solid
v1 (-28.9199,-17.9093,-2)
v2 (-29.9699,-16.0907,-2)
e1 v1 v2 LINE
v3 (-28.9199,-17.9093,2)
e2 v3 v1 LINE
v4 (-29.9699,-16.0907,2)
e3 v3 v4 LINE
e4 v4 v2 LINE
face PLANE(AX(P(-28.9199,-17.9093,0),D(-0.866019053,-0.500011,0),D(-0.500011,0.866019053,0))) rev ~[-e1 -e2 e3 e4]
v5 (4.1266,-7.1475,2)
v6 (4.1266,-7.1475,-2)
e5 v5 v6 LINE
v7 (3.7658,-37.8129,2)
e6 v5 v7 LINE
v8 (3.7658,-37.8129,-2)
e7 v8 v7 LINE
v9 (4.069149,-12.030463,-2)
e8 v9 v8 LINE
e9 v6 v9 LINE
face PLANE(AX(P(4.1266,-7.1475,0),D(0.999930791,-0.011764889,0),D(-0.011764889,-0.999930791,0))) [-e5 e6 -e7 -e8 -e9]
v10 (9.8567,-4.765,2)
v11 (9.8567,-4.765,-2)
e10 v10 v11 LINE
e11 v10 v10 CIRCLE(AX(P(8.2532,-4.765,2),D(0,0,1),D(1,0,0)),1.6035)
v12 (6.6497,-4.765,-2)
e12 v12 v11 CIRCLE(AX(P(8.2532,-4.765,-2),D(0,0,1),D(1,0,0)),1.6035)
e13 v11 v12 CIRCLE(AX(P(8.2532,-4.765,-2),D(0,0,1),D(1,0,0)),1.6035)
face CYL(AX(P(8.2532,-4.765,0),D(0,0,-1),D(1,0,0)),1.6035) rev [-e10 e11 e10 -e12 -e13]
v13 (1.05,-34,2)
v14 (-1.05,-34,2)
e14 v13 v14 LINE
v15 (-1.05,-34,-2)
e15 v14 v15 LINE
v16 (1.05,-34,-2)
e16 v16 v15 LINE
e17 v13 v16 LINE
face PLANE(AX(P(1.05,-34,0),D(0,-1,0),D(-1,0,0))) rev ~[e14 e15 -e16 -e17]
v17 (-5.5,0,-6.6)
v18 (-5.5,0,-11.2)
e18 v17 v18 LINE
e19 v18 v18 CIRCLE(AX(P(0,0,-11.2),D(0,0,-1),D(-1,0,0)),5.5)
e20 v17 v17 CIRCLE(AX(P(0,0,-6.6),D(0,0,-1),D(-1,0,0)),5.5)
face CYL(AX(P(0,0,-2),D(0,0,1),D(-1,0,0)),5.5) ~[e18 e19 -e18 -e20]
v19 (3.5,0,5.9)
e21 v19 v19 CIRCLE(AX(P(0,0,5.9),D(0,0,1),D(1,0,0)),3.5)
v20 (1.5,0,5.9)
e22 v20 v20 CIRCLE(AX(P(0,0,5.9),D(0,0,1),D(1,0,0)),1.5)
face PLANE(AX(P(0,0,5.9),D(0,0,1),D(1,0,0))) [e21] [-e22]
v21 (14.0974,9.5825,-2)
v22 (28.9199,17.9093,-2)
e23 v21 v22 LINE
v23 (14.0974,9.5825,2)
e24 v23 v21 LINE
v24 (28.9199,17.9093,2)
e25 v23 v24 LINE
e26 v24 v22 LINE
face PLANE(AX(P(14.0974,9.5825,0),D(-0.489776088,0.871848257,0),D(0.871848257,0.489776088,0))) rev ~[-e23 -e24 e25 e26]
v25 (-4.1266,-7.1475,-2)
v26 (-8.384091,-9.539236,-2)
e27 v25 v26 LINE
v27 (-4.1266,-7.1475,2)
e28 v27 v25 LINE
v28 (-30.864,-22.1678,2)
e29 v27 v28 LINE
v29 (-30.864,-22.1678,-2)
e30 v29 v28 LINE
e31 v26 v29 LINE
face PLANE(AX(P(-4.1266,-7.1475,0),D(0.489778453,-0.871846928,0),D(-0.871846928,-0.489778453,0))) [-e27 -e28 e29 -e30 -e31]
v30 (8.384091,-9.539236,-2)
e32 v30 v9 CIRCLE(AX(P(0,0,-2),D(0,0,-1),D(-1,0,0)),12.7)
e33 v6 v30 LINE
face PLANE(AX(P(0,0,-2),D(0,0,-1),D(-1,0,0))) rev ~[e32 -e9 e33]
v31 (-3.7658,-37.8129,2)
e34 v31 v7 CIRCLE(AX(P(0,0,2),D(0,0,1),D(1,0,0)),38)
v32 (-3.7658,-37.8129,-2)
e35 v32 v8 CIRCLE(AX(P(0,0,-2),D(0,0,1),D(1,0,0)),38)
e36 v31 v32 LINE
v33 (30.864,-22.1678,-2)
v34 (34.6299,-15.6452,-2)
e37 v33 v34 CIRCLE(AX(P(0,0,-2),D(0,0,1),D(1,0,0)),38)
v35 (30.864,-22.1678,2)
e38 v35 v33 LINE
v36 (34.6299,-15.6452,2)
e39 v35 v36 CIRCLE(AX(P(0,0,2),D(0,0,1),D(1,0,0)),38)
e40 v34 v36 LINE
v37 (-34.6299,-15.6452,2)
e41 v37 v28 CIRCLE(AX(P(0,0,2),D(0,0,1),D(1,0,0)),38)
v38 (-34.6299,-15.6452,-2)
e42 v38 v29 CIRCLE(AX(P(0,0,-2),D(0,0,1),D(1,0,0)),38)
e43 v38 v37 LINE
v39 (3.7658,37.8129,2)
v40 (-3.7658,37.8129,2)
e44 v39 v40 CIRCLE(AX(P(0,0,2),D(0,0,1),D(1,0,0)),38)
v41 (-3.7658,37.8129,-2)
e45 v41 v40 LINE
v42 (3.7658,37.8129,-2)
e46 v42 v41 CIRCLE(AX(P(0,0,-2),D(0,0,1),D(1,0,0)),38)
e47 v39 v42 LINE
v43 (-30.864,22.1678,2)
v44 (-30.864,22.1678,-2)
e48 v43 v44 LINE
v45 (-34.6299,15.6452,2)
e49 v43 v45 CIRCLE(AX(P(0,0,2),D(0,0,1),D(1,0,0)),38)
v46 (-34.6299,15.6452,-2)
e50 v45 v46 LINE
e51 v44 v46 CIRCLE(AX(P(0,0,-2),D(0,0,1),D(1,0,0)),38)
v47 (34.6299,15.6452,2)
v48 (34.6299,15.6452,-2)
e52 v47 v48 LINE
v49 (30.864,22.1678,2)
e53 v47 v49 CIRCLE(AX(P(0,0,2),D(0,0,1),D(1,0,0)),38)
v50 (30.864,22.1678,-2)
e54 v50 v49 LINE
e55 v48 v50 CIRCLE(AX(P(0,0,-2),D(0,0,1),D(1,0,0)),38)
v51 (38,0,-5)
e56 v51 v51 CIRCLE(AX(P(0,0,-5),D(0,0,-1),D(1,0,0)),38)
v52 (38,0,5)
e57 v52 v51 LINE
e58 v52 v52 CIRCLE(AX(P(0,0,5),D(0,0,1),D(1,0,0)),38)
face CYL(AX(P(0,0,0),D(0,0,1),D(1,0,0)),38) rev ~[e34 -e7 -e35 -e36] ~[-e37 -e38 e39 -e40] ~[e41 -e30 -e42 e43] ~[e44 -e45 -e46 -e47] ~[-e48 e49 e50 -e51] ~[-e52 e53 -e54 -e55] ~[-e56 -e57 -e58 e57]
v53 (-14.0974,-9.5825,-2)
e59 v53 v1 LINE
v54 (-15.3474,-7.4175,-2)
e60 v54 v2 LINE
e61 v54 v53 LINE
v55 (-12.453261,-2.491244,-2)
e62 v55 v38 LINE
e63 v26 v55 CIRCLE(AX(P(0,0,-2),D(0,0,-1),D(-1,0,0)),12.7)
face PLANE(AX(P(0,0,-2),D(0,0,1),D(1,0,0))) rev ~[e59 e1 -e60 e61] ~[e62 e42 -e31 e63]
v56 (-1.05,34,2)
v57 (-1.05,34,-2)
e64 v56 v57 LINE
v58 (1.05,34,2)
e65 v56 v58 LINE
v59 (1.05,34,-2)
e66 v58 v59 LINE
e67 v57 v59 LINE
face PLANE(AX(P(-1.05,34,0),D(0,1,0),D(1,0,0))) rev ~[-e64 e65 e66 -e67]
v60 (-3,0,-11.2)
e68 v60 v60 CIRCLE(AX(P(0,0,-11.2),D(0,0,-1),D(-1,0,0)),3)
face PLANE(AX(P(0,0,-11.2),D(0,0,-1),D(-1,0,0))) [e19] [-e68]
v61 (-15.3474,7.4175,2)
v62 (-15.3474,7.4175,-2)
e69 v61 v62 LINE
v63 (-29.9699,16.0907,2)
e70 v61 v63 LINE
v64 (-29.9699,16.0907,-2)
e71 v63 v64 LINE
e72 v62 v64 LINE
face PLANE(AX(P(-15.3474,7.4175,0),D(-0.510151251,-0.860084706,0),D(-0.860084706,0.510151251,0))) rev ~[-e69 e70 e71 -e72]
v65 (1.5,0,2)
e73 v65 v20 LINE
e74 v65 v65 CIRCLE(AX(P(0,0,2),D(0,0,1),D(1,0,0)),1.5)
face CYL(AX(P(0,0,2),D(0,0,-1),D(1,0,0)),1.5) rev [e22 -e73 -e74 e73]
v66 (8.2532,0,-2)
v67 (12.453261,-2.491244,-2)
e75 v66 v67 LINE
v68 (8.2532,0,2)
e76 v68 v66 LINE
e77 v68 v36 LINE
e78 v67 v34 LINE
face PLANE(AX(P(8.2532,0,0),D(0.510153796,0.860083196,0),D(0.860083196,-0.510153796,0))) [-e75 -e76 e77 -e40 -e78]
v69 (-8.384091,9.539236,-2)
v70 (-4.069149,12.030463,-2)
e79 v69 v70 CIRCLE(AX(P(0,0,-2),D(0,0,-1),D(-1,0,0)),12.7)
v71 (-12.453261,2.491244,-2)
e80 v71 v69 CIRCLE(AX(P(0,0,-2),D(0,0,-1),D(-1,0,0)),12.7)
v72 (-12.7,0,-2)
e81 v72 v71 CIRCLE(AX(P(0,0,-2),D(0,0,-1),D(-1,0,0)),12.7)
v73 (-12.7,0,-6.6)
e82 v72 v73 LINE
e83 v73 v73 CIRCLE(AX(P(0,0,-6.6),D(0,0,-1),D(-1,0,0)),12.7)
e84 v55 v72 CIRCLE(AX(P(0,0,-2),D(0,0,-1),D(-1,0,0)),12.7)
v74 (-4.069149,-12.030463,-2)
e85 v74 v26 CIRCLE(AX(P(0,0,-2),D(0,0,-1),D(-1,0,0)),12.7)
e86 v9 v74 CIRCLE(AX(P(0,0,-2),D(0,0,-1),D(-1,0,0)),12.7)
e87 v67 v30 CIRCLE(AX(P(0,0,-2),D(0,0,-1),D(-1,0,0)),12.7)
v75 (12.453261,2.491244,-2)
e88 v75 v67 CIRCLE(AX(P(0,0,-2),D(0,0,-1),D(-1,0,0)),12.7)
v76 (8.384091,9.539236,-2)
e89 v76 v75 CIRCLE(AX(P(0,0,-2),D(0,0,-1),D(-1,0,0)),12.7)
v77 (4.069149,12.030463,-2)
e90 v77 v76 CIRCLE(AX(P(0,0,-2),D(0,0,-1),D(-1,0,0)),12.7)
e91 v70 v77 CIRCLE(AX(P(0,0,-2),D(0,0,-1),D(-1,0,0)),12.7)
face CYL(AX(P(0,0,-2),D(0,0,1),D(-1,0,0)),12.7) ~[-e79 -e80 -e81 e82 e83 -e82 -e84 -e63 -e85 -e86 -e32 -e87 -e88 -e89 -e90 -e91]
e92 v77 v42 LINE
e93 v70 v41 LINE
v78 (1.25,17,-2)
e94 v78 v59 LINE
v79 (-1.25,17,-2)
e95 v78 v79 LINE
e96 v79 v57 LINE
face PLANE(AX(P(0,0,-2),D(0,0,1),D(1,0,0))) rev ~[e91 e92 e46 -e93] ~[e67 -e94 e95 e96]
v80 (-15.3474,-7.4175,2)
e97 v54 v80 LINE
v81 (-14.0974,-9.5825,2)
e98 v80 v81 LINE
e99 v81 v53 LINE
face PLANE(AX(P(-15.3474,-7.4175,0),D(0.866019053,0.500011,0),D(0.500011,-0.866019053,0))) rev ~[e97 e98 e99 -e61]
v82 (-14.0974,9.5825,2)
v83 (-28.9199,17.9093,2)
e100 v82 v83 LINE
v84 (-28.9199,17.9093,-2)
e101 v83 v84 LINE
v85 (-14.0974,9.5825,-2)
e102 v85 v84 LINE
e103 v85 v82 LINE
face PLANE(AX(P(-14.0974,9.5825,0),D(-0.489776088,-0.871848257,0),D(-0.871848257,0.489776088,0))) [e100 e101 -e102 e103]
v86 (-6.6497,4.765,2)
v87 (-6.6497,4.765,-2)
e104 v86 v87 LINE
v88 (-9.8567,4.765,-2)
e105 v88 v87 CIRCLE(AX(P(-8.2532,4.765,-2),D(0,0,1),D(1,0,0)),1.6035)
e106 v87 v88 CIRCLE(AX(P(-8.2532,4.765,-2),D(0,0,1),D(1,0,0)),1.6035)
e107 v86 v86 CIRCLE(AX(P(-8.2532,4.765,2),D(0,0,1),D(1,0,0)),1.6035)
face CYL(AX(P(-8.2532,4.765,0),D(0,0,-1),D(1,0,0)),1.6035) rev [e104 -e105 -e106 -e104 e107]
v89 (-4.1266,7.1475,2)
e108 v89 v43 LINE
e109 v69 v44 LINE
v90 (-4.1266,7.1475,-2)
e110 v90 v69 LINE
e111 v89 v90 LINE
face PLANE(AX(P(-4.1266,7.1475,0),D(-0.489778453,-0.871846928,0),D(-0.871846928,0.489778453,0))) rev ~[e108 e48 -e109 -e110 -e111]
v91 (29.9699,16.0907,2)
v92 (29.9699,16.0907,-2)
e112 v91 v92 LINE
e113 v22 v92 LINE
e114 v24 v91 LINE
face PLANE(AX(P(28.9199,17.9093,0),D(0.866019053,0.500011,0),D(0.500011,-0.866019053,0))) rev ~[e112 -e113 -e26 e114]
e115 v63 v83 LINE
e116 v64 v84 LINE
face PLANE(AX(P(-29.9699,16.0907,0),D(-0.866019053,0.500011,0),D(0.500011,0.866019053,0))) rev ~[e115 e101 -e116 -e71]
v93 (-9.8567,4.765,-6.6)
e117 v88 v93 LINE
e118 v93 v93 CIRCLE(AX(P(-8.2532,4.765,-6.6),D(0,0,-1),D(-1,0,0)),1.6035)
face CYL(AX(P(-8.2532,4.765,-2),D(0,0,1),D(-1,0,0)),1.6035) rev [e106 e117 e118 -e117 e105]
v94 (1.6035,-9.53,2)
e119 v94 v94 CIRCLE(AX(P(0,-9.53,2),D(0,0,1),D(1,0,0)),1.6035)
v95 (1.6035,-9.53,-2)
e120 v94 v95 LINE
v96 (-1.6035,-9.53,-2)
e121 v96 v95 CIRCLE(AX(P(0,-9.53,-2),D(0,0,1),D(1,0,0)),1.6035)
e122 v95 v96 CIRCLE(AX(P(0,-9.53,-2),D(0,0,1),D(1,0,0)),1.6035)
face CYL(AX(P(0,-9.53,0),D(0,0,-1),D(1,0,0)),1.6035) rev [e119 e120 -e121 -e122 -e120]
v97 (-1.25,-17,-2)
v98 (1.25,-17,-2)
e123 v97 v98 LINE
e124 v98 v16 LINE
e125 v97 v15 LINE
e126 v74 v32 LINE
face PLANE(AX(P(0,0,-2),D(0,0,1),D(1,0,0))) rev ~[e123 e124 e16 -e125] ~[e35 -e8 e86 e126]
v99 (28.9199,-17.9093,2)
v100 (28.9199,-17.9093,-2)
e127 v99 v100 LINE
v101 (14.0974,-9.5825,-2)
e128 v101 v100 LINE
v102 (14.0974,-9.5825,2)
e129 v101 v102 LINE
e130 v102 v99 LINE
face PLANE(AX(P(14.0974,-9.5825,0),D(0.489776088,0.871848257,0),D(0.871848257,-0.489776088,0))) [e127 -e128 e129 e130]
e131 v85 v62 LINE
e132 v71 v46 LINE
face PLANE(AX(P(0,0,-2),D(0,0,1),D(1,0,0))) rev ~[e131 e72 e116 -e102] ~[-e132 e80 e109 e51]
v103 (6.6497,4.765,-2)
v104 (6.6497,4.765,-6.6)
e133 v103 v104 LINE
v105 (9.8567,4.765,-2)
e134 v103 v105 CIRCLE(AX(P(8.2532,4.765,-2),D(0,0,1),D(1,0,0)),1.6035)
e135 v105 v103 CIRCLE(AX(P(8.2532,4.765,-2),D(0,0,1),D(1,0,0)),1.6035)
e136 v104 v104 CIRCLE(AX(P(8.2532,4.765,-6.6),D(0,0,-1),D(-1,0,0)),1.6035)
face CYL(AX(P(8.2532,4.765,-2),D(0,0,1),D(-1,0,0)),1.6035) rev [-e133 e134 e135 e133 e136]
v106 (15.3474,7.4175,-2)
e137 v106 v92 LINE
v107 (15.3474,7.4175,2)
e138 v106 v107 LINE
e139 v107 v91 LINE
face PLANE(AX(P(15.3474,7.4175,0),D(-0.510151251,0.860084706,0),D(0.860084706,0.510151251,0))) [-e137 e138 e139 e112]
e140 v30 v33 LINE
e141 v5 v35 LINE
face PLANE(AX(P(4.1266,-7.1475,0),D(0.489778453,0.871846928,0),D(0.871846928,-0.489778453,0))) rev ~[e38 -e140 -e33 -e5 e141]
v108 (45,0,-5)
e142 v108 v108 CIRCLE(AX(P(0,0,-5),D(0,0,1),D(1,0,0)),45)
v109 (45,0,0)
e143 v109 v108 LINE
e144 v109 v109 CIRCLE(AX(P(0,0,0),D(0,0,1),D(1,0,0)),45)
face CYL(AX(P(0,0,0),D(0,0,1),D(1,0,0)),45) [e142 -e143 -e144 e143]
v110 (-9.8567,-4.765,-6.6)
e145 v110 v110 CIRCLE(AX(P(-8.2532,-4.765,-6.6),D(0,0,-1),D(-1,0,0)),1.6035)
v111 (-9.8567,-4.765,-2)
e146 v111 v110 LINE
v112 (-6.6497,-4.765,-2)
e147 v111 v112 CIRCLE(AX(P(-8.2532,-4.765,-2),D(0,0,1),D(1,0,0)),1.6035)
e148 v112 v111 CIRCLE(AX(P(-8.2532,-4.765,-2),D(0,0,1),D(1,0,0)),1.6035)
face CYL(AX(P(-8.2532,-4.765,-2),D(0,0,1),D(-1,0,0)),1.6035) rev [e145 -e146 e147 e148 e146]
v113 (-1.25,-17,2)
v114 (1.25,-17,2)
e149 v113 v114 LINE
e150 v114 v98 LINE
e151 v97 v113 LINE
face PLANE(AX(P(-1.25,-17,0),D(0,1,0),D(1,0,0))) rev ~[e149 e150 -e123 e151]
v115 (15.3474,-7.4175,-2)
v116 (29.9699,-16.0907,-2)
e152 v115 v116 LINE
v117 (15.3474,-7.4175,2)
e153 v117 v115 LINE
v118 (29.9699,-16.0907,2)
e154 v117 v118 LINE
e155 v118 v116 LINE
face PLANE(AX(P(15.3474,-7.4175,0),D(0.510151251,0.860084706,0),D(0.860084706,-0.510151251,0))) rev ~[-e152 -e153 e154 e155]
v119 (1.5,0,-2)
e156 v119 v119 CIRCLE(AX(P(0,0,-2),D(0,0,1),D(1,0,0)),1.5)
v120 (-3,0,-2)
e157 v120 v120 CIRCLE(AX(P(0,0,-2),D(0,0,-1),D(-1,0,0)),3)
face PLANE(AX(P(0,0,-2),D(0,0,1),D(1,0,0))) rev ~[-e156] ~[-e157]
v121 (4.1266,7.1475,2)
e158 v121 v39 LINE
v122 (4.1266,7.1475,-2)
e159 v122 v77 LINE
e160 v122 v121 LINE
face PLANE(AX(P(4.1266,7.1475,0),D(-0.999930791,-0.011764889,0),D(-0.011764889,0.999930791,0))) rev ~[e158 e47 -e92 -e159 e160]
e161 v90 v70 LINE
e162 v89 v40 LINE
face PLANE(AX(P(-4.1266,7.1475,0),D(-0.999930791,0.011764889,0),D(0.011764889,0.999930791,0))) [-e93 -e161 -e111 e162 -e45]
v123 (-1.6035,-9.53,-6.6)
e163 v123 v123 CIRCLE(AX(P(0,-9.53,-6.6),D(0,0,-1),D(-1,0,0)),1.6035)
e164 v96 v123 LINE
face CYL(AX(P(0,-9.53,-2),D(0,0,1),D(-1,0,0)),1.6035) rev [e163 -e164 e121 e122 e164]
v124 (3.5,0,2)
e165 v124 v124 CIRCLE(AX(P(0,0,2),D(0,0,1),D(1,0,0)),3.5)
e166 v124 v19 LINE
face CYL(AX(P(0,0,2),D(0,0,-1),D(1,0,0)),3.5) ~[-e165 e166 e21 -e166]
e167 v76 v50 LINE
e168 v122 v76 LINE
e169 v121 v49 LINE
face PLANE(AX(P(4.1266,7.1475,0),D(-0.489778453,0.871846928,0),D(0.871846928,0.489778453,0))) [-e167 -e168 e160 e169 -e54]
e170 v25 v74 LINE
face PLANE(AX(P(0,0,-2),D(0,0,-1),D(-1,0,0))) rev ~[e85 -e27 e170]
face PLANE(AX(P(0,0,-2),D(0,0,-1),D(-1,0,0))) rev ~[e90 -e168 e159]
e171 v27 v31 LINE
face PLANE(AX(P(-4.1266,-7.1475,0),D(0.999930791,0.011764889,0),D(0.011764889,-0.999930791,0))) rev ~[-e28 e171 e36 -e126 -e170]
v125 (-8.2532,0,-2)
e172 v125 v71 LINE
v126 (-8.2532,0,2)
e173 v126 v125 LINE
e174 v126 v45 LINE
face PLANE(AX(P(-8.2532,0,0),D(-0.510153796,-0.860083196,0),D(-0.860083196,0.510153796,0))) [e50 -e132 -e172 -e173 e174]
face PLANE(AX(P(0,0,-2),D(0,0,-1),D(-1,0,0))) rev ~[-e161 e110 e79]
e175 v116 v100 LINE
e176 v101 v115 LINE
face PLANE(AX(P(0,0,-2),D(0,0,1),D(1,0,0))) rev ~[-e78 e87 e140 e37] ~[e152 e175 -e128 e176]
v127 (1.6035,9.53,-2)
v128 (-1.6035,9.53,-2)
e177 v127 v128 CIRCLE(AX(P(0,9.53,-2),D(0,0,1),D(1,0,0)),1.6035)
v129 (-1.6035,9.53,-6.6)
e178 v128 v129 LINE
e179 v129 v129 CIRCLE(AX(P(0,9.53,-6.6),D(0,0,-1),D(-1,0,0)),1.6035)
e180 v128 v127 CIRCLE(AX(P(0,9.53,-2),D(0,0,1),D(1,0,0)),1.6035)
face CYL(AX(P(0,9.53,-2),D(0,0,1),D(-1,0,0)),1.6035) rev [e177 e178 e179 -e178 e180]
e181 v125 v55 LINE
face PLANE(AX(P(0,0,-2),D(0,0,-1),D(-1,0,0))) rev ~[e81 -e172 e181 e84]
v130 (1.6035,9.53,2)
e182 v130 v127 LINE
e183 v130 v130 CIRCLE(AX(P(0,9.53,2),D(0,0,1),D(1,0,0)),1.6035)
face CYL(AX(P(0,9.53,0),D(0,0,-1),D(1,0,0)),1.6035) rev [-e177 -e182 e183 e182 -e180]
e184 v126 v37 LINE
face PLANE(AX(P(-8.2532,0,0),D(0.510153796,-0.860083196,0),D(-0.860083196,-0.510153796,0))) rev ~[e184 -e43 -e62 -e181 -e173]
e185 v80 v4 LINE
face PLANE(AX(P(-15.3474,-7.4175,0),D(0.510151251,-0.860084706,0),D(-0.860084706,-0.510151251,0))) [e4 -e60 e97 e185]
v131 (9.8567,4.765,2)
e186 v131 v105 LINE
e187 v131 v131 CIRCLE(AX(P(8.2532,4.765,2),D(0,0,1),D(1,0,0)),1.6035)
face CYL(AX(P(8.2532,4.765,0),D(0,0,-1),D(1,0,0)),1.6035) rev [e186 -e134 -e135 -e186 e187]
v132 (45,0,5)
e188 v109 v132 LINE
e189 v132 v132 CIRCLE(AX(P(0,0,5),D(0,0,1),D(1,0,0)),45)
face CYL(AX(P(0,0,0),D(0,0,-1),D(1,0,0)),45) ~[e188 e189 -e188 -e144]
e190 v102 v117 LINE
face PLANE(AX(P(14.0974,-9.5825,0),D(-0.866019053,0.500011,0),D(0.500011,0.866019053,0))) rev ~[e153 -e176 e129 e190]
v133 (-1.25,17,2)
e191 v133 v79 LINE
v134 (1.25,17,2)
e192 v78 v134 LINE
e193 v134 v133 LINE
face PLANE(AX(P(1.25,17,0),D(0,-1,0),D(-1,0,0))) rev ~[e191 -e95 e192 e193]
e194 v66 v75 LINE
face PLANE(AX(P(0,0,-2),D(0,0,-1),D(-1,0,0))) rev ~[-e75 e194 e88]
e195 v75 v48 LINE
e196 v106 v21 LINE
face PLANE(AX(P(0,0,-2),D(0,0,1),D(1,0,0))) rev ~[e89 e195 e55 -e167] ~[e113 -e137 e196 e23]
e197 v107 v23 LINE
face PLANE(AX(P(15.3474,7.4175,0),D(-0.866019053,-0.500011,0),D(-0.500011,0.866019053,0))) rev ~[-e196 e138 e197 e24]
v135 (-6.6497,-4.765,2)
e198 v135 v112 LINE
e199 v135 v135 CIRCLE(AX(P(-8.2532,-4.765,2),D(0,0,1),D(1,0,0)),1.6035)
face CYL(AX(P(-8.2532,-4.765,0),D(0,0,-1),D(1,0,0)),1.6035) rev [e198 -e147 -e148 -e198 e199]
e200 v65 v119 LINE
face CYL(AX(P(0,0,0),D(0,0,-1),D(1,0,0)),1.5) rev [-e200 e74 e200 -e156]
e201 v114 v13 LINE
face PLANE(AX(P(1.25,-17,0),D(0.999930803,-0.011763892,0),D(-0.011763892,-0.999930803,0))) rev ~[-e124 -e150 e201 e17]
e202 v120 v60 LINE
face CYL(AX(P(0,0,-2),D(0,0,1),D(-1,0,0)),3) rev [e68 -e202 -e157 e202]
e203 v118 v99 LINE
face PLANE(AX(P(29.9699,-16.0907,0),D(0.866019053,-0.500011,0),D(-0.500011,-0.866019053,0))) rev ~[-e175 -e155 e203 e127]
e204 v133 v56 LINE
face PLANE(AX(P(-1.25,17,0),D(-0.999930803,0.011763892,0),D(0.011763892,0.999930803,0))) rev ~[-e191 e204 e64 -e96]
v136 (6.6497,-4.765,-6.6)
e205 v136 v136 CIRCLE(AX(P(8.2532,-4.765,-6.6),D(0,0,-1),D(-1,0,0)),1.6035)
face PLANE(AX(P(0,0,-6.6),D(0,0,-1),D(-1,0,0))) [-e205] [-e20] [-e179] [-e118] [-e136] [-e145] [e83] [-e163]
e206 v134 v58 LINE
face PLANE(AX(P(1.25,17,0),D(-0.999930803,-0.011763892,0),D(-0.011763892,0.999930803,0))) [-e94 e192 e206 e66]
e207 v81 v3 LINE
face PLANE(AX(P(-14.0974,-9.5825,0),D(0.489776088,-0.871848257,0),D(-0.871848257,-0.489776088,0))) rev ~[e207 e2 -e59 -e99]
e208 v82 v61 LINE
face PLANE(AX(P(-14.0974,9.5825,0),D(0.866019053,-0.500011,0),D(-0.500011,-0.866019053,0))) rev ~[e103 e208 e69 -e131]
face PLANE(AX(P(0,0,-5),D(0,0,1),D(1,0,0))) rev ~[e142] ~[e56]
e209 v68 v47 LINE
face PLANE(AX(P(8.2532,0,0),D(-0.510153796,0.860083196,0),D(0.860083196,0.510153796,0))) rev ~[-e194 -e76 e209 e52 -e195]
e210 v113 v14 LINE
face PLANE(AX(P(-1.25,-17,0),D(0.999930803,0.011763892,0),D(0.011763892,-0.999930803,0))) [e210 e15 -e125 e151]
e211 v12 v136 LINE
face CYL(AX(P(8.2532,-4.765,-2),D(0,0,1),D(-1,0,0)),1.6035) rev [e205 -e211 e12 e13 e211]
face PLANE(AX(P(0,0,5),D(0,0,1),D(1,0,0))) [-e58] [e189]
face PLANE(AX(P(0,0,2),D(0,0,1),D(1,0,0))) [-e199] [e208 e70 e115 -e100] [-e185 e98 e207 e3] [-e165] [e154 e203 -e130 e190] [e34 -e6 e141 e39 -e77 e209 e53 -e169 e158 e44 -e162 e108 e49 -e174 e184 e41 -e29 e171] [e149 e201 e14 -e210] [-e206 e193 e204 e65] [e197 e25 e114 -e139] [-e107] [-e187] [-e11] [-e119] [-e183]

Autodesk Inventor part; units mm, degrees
ref_plane "YZ Plane" through (0, 0, 0) normal (1, 0, 0) x (0, 1, 0)
ref_plane "XZ Plane" through (0, 0, 0) normal (0, 1, 0) x (-1, 0, 0)
ref_plane "XY Plane" through (0, 0, 0) normal (0, 0, 1) x (1, 0, 0)
sketch "Sketch1" plane through (0, 0, 0) normal (0, 0, 1) x (1, 0, 0)
  circle A0 centre (0, 0) radius 45
  circle A1 centre (0, 0) radius 38
  line L0 (0, 0) -> (0, -38) construction
  line L1 (-1.25, -17) -> (1.25, -17)
  line L2 (1.25, -17) -> (1.05, -34)
  line L3 (1.05, -34) -> (-1.05, -34)
  line L4 (-1.25, -17) -> (-1.05, -34)
  circle A2 centre (0, 0) radius 1.5
  circle A3 centre (0, -9.53) radius 1.6035
  circle A4 centre (8.2532, -4.765) radius 1.6035
  circle A5 centre (8.2532, 4.765) radius 1.6035
  circle A6 centre (0, 9.53) radius 1.6035
  circle A7 centre (-8.2532, 4.765) radius 1.6035
  circle A8 centre (-8.2532, -4.765) radius 1.6035
  line L5 (0, -9.53) -> (8.2532, -4.765) construction
  line L6 (4.1266, -7.1475) -> (3.7658, -37.8129)
  line L7 (0, -9.53) -> (-8.2532, -4.765) construction
  line L8 (-4.1266, -7.1475) -> (-3.7658, -37.8129)
  line L9 (14.0974, -9.5825) -> (15.3474, -7.4175)
  line L10 (15.3474, -7.4175) -> (29.9699, -16.0907)
  line L11 (29.9699, -16.0907) -> (28.9199, -17.9093)
  line L12 (14.0974, -9.5825) -> (28.9199, -17.9093)
  line L13 (8.2532, 0) -> (34.6299, -15.6452)
  line L14 (4.1266, -7.1475) -> (30.864, -22.1678)
  line L15 (15.3474, 7.4175) -> (14.0974, 9.5825)
  line L16 (14.0974, 9.5825) -> (28.9199, 17.9093)
  line L17 (28.9199, 17.9093) -> (29.9699, 16.0907)
  line L18 (15.3474, 7.4175) -> (29.9699, 16.0907)
  line L19 (4.1266, 7.1475) -> (30.864, 22.1678)
  line L20 (8.2532, 0) -> (34.6299, 15.6452)
  line L21 (1.25, 17) -> (-1.25, 17)
  line L22 (-1.25, 17) -> (-1.05, 34)
  line L23 (-1.05, 34) -> (1.05, 34)
  line L24 (1.25, 17) -> (1.05, 34)
  line L25 (-4.1266, 7.1475) -> (-3.7658, 37.8129)
  line L26 (4.1266, 7.1475) -> (3.7658, 37.8129)
  line L27 (-14.0974, 9.5825) -> (-15.3474, 7.4175)
  line L28 (-15.3474, 7.4175) -> (-29.9699, 16.0907)
  line L29 (-29.9699, 16.0907) -> (-28.9199, 17.9093)
  line L30 (-14.0974, 9.5825) -> (-28.9199, 17.9093)
  line L31 (-8.2532, 0) -> (-34.6299, 15.6452)
  line L32 (-4.1266, 7.1475) -> (-30.864, 22.1678)
  line L33 (-15.3474, -7.4175) -> (-14.0974, -9.5825)
  line L34 (-14.0974, -9.5825) -> (-28.9199, -17.9093)
  line L35 (-28.9199, -17.9093) -> (-29.9699, -16.0907)
  line L36 (-15.3474, -7.4175) -> (-29.9699, -16.0907)
  line L37 (-4.1266, -7.1475) -> (-30.864, -22.1678)
  line L38 (-8.2532, 0) -> (-34.6299, -15.6452)
  line L39 (3.7658, -37.8129) -> (4.1266, -7.1475)
  line L40 (30.864, -22.1678) -> (4.1266, -7.1475)
  arc A9 (-30.864, -22.1678) -> (-3.7658, -37.8129) centre (0, 0) ccw
  arc A10 (3.7658, -37.8129) -> (30.864, -22.1678) centre (0, 0) ccw
  line L41 (-30.864, -22.1678) -> (-4.1266, -7.1475)
  line L42 (-4.1266, -7.1475) -> (-3.7658, -37.8129)
  line L43 (-34.6299, -15.6452) -> (-8.2532, 0)
  line L44 (-34.6299, 15.6452) -> (-8.2532, 0)
  line L45 (-4.1266, 7.1475) -> (-30.864, 22.1678)
  line L46 (-4.1266, 7.1475) -> (-3.7658, 37.8129)
  line L47 (4.1266, 7.1475) -> (3.7658, 37.8129)
  line L48 (4.1266, 7.1475) -> (30.864, 22.1678)
  line L49 (34.6299, 15.6452) -> (8.2532, 0)
  line L50 (8.2532, 0) -> (34.6299, -15.6452)
  arc A11 (-34.6299, 15.6452) -> (-34.6299, -15.6452) centre (0, 0) ccw
  arc A12 (-3.7658, 37.8129) -> (-30.864, 22.1678) centre (0, 0) ccw
  arc A13 (30.864, 22.1678) -> (3.7658, 37.8129) centre (0, 0) ccw
  arc A14 (34.6299, -15.6452) -> (34.6299, 15.6452) centre (0, 0) ccw
  arc A15 (-3.7658, 37.8129) -> (-30.864, 22.1678) centre (0, 0) ccw
  arc A16 (-3.7658, 37.8129) -> (-30.864, 22.1678) centre (0, 0) ccw
  line L51 (-30.864, 22.1678) -> (-4.1266, 7.1475)
  line L52 (-4.1266, 7.1475) -> (-3.7658, 37.8129)
  point P0 (32.909, -19)
  point P1 (8.2532, -4.765)
  point P2 (32.909, 19)
  point P3 (8.2532, 4.765)
  point P4 (0, 38)
  point P5 (0, 9.53)
  point P6 (-32.909, 19)
  point P7 (-8.2532, 4.765)
  point P8 (-32.909, -19)
  point P9 (-8.2532, -4.765)
  dimension "d0" = 90
  dimension "d1" = 76
  dimension "d2" = 2.1
  dimension "d3" = 2.5
  dimension "d4" = 1.25
  dimension "d5" = 1.05
  dimension "d6" = 3
  dimension "d7" = 17
  dimension "d8" = 4
  dimension "d9" = 9.53
  dimension "d12" = 360
  dimension "d16" = 360
  dimension "d20" = 3.207
extrude "Extrusion1" add sketch "Sketch1" along normal mid plane 10 contours A0
extrude "Extrusion2" add sketch "Sketch1" along normal mid plane 4 contours L20 L13 A1 L14 L6 L8 L37 L38 L31 L32 L25 L26 L19
sketch "Sketch2" plane through (0, 0, 2) normal (0, 0, 1) x (1, 0, 0)
  circle A0 centre (0, 0) radius 1.5 projected
  circle A1 centre (0, 0) radius 3.5
  dimension "d23" = 7
extrude "Extrusion3" add sketch "Sketch2" along normal blind 3.9
sketch "Sketch3" plane through (0, 0, -2) normal (0, 0, -1) x (-1, 0, 0)
  circle A0 centre (8.2532, -4.765) radius 1.6035 projected
  circle A1 centre (8.2532, 4.765) radius 1.6035 projected
  circle A2 centre (0, 9.53) radius 1.6035 projected
  circle A3 centre (-8.2532, 4.765) radius 1.6035 projected
  circle A4 centre (-8.2532, -4.765) radius 1.6035 projected
  circle A5 centre (0, -9.53) radius 1.6035 projected
  circle A6 centre (0, 0) radius 1.5 projected
  circle A7 centre (0, 0) radius 12.7
  circle A8 centre (0, 0) radius 3.5 projected
  circle A9 centre (0, 0) radius 3
  circle A10 centre (0, 0) radius 5.5
  dimension "d26" = 6
  dimension "d27" = 11
  dimension "d28" = 25.4
extrude "Extrusion4" add sketch "Sketch3" along normal blind 4.6 contours A7
extrude "Extrusion5" add sketch "Sketch3" along normal blind 9.2 contours A8 | A10
properties part number "Wheel90mm"
